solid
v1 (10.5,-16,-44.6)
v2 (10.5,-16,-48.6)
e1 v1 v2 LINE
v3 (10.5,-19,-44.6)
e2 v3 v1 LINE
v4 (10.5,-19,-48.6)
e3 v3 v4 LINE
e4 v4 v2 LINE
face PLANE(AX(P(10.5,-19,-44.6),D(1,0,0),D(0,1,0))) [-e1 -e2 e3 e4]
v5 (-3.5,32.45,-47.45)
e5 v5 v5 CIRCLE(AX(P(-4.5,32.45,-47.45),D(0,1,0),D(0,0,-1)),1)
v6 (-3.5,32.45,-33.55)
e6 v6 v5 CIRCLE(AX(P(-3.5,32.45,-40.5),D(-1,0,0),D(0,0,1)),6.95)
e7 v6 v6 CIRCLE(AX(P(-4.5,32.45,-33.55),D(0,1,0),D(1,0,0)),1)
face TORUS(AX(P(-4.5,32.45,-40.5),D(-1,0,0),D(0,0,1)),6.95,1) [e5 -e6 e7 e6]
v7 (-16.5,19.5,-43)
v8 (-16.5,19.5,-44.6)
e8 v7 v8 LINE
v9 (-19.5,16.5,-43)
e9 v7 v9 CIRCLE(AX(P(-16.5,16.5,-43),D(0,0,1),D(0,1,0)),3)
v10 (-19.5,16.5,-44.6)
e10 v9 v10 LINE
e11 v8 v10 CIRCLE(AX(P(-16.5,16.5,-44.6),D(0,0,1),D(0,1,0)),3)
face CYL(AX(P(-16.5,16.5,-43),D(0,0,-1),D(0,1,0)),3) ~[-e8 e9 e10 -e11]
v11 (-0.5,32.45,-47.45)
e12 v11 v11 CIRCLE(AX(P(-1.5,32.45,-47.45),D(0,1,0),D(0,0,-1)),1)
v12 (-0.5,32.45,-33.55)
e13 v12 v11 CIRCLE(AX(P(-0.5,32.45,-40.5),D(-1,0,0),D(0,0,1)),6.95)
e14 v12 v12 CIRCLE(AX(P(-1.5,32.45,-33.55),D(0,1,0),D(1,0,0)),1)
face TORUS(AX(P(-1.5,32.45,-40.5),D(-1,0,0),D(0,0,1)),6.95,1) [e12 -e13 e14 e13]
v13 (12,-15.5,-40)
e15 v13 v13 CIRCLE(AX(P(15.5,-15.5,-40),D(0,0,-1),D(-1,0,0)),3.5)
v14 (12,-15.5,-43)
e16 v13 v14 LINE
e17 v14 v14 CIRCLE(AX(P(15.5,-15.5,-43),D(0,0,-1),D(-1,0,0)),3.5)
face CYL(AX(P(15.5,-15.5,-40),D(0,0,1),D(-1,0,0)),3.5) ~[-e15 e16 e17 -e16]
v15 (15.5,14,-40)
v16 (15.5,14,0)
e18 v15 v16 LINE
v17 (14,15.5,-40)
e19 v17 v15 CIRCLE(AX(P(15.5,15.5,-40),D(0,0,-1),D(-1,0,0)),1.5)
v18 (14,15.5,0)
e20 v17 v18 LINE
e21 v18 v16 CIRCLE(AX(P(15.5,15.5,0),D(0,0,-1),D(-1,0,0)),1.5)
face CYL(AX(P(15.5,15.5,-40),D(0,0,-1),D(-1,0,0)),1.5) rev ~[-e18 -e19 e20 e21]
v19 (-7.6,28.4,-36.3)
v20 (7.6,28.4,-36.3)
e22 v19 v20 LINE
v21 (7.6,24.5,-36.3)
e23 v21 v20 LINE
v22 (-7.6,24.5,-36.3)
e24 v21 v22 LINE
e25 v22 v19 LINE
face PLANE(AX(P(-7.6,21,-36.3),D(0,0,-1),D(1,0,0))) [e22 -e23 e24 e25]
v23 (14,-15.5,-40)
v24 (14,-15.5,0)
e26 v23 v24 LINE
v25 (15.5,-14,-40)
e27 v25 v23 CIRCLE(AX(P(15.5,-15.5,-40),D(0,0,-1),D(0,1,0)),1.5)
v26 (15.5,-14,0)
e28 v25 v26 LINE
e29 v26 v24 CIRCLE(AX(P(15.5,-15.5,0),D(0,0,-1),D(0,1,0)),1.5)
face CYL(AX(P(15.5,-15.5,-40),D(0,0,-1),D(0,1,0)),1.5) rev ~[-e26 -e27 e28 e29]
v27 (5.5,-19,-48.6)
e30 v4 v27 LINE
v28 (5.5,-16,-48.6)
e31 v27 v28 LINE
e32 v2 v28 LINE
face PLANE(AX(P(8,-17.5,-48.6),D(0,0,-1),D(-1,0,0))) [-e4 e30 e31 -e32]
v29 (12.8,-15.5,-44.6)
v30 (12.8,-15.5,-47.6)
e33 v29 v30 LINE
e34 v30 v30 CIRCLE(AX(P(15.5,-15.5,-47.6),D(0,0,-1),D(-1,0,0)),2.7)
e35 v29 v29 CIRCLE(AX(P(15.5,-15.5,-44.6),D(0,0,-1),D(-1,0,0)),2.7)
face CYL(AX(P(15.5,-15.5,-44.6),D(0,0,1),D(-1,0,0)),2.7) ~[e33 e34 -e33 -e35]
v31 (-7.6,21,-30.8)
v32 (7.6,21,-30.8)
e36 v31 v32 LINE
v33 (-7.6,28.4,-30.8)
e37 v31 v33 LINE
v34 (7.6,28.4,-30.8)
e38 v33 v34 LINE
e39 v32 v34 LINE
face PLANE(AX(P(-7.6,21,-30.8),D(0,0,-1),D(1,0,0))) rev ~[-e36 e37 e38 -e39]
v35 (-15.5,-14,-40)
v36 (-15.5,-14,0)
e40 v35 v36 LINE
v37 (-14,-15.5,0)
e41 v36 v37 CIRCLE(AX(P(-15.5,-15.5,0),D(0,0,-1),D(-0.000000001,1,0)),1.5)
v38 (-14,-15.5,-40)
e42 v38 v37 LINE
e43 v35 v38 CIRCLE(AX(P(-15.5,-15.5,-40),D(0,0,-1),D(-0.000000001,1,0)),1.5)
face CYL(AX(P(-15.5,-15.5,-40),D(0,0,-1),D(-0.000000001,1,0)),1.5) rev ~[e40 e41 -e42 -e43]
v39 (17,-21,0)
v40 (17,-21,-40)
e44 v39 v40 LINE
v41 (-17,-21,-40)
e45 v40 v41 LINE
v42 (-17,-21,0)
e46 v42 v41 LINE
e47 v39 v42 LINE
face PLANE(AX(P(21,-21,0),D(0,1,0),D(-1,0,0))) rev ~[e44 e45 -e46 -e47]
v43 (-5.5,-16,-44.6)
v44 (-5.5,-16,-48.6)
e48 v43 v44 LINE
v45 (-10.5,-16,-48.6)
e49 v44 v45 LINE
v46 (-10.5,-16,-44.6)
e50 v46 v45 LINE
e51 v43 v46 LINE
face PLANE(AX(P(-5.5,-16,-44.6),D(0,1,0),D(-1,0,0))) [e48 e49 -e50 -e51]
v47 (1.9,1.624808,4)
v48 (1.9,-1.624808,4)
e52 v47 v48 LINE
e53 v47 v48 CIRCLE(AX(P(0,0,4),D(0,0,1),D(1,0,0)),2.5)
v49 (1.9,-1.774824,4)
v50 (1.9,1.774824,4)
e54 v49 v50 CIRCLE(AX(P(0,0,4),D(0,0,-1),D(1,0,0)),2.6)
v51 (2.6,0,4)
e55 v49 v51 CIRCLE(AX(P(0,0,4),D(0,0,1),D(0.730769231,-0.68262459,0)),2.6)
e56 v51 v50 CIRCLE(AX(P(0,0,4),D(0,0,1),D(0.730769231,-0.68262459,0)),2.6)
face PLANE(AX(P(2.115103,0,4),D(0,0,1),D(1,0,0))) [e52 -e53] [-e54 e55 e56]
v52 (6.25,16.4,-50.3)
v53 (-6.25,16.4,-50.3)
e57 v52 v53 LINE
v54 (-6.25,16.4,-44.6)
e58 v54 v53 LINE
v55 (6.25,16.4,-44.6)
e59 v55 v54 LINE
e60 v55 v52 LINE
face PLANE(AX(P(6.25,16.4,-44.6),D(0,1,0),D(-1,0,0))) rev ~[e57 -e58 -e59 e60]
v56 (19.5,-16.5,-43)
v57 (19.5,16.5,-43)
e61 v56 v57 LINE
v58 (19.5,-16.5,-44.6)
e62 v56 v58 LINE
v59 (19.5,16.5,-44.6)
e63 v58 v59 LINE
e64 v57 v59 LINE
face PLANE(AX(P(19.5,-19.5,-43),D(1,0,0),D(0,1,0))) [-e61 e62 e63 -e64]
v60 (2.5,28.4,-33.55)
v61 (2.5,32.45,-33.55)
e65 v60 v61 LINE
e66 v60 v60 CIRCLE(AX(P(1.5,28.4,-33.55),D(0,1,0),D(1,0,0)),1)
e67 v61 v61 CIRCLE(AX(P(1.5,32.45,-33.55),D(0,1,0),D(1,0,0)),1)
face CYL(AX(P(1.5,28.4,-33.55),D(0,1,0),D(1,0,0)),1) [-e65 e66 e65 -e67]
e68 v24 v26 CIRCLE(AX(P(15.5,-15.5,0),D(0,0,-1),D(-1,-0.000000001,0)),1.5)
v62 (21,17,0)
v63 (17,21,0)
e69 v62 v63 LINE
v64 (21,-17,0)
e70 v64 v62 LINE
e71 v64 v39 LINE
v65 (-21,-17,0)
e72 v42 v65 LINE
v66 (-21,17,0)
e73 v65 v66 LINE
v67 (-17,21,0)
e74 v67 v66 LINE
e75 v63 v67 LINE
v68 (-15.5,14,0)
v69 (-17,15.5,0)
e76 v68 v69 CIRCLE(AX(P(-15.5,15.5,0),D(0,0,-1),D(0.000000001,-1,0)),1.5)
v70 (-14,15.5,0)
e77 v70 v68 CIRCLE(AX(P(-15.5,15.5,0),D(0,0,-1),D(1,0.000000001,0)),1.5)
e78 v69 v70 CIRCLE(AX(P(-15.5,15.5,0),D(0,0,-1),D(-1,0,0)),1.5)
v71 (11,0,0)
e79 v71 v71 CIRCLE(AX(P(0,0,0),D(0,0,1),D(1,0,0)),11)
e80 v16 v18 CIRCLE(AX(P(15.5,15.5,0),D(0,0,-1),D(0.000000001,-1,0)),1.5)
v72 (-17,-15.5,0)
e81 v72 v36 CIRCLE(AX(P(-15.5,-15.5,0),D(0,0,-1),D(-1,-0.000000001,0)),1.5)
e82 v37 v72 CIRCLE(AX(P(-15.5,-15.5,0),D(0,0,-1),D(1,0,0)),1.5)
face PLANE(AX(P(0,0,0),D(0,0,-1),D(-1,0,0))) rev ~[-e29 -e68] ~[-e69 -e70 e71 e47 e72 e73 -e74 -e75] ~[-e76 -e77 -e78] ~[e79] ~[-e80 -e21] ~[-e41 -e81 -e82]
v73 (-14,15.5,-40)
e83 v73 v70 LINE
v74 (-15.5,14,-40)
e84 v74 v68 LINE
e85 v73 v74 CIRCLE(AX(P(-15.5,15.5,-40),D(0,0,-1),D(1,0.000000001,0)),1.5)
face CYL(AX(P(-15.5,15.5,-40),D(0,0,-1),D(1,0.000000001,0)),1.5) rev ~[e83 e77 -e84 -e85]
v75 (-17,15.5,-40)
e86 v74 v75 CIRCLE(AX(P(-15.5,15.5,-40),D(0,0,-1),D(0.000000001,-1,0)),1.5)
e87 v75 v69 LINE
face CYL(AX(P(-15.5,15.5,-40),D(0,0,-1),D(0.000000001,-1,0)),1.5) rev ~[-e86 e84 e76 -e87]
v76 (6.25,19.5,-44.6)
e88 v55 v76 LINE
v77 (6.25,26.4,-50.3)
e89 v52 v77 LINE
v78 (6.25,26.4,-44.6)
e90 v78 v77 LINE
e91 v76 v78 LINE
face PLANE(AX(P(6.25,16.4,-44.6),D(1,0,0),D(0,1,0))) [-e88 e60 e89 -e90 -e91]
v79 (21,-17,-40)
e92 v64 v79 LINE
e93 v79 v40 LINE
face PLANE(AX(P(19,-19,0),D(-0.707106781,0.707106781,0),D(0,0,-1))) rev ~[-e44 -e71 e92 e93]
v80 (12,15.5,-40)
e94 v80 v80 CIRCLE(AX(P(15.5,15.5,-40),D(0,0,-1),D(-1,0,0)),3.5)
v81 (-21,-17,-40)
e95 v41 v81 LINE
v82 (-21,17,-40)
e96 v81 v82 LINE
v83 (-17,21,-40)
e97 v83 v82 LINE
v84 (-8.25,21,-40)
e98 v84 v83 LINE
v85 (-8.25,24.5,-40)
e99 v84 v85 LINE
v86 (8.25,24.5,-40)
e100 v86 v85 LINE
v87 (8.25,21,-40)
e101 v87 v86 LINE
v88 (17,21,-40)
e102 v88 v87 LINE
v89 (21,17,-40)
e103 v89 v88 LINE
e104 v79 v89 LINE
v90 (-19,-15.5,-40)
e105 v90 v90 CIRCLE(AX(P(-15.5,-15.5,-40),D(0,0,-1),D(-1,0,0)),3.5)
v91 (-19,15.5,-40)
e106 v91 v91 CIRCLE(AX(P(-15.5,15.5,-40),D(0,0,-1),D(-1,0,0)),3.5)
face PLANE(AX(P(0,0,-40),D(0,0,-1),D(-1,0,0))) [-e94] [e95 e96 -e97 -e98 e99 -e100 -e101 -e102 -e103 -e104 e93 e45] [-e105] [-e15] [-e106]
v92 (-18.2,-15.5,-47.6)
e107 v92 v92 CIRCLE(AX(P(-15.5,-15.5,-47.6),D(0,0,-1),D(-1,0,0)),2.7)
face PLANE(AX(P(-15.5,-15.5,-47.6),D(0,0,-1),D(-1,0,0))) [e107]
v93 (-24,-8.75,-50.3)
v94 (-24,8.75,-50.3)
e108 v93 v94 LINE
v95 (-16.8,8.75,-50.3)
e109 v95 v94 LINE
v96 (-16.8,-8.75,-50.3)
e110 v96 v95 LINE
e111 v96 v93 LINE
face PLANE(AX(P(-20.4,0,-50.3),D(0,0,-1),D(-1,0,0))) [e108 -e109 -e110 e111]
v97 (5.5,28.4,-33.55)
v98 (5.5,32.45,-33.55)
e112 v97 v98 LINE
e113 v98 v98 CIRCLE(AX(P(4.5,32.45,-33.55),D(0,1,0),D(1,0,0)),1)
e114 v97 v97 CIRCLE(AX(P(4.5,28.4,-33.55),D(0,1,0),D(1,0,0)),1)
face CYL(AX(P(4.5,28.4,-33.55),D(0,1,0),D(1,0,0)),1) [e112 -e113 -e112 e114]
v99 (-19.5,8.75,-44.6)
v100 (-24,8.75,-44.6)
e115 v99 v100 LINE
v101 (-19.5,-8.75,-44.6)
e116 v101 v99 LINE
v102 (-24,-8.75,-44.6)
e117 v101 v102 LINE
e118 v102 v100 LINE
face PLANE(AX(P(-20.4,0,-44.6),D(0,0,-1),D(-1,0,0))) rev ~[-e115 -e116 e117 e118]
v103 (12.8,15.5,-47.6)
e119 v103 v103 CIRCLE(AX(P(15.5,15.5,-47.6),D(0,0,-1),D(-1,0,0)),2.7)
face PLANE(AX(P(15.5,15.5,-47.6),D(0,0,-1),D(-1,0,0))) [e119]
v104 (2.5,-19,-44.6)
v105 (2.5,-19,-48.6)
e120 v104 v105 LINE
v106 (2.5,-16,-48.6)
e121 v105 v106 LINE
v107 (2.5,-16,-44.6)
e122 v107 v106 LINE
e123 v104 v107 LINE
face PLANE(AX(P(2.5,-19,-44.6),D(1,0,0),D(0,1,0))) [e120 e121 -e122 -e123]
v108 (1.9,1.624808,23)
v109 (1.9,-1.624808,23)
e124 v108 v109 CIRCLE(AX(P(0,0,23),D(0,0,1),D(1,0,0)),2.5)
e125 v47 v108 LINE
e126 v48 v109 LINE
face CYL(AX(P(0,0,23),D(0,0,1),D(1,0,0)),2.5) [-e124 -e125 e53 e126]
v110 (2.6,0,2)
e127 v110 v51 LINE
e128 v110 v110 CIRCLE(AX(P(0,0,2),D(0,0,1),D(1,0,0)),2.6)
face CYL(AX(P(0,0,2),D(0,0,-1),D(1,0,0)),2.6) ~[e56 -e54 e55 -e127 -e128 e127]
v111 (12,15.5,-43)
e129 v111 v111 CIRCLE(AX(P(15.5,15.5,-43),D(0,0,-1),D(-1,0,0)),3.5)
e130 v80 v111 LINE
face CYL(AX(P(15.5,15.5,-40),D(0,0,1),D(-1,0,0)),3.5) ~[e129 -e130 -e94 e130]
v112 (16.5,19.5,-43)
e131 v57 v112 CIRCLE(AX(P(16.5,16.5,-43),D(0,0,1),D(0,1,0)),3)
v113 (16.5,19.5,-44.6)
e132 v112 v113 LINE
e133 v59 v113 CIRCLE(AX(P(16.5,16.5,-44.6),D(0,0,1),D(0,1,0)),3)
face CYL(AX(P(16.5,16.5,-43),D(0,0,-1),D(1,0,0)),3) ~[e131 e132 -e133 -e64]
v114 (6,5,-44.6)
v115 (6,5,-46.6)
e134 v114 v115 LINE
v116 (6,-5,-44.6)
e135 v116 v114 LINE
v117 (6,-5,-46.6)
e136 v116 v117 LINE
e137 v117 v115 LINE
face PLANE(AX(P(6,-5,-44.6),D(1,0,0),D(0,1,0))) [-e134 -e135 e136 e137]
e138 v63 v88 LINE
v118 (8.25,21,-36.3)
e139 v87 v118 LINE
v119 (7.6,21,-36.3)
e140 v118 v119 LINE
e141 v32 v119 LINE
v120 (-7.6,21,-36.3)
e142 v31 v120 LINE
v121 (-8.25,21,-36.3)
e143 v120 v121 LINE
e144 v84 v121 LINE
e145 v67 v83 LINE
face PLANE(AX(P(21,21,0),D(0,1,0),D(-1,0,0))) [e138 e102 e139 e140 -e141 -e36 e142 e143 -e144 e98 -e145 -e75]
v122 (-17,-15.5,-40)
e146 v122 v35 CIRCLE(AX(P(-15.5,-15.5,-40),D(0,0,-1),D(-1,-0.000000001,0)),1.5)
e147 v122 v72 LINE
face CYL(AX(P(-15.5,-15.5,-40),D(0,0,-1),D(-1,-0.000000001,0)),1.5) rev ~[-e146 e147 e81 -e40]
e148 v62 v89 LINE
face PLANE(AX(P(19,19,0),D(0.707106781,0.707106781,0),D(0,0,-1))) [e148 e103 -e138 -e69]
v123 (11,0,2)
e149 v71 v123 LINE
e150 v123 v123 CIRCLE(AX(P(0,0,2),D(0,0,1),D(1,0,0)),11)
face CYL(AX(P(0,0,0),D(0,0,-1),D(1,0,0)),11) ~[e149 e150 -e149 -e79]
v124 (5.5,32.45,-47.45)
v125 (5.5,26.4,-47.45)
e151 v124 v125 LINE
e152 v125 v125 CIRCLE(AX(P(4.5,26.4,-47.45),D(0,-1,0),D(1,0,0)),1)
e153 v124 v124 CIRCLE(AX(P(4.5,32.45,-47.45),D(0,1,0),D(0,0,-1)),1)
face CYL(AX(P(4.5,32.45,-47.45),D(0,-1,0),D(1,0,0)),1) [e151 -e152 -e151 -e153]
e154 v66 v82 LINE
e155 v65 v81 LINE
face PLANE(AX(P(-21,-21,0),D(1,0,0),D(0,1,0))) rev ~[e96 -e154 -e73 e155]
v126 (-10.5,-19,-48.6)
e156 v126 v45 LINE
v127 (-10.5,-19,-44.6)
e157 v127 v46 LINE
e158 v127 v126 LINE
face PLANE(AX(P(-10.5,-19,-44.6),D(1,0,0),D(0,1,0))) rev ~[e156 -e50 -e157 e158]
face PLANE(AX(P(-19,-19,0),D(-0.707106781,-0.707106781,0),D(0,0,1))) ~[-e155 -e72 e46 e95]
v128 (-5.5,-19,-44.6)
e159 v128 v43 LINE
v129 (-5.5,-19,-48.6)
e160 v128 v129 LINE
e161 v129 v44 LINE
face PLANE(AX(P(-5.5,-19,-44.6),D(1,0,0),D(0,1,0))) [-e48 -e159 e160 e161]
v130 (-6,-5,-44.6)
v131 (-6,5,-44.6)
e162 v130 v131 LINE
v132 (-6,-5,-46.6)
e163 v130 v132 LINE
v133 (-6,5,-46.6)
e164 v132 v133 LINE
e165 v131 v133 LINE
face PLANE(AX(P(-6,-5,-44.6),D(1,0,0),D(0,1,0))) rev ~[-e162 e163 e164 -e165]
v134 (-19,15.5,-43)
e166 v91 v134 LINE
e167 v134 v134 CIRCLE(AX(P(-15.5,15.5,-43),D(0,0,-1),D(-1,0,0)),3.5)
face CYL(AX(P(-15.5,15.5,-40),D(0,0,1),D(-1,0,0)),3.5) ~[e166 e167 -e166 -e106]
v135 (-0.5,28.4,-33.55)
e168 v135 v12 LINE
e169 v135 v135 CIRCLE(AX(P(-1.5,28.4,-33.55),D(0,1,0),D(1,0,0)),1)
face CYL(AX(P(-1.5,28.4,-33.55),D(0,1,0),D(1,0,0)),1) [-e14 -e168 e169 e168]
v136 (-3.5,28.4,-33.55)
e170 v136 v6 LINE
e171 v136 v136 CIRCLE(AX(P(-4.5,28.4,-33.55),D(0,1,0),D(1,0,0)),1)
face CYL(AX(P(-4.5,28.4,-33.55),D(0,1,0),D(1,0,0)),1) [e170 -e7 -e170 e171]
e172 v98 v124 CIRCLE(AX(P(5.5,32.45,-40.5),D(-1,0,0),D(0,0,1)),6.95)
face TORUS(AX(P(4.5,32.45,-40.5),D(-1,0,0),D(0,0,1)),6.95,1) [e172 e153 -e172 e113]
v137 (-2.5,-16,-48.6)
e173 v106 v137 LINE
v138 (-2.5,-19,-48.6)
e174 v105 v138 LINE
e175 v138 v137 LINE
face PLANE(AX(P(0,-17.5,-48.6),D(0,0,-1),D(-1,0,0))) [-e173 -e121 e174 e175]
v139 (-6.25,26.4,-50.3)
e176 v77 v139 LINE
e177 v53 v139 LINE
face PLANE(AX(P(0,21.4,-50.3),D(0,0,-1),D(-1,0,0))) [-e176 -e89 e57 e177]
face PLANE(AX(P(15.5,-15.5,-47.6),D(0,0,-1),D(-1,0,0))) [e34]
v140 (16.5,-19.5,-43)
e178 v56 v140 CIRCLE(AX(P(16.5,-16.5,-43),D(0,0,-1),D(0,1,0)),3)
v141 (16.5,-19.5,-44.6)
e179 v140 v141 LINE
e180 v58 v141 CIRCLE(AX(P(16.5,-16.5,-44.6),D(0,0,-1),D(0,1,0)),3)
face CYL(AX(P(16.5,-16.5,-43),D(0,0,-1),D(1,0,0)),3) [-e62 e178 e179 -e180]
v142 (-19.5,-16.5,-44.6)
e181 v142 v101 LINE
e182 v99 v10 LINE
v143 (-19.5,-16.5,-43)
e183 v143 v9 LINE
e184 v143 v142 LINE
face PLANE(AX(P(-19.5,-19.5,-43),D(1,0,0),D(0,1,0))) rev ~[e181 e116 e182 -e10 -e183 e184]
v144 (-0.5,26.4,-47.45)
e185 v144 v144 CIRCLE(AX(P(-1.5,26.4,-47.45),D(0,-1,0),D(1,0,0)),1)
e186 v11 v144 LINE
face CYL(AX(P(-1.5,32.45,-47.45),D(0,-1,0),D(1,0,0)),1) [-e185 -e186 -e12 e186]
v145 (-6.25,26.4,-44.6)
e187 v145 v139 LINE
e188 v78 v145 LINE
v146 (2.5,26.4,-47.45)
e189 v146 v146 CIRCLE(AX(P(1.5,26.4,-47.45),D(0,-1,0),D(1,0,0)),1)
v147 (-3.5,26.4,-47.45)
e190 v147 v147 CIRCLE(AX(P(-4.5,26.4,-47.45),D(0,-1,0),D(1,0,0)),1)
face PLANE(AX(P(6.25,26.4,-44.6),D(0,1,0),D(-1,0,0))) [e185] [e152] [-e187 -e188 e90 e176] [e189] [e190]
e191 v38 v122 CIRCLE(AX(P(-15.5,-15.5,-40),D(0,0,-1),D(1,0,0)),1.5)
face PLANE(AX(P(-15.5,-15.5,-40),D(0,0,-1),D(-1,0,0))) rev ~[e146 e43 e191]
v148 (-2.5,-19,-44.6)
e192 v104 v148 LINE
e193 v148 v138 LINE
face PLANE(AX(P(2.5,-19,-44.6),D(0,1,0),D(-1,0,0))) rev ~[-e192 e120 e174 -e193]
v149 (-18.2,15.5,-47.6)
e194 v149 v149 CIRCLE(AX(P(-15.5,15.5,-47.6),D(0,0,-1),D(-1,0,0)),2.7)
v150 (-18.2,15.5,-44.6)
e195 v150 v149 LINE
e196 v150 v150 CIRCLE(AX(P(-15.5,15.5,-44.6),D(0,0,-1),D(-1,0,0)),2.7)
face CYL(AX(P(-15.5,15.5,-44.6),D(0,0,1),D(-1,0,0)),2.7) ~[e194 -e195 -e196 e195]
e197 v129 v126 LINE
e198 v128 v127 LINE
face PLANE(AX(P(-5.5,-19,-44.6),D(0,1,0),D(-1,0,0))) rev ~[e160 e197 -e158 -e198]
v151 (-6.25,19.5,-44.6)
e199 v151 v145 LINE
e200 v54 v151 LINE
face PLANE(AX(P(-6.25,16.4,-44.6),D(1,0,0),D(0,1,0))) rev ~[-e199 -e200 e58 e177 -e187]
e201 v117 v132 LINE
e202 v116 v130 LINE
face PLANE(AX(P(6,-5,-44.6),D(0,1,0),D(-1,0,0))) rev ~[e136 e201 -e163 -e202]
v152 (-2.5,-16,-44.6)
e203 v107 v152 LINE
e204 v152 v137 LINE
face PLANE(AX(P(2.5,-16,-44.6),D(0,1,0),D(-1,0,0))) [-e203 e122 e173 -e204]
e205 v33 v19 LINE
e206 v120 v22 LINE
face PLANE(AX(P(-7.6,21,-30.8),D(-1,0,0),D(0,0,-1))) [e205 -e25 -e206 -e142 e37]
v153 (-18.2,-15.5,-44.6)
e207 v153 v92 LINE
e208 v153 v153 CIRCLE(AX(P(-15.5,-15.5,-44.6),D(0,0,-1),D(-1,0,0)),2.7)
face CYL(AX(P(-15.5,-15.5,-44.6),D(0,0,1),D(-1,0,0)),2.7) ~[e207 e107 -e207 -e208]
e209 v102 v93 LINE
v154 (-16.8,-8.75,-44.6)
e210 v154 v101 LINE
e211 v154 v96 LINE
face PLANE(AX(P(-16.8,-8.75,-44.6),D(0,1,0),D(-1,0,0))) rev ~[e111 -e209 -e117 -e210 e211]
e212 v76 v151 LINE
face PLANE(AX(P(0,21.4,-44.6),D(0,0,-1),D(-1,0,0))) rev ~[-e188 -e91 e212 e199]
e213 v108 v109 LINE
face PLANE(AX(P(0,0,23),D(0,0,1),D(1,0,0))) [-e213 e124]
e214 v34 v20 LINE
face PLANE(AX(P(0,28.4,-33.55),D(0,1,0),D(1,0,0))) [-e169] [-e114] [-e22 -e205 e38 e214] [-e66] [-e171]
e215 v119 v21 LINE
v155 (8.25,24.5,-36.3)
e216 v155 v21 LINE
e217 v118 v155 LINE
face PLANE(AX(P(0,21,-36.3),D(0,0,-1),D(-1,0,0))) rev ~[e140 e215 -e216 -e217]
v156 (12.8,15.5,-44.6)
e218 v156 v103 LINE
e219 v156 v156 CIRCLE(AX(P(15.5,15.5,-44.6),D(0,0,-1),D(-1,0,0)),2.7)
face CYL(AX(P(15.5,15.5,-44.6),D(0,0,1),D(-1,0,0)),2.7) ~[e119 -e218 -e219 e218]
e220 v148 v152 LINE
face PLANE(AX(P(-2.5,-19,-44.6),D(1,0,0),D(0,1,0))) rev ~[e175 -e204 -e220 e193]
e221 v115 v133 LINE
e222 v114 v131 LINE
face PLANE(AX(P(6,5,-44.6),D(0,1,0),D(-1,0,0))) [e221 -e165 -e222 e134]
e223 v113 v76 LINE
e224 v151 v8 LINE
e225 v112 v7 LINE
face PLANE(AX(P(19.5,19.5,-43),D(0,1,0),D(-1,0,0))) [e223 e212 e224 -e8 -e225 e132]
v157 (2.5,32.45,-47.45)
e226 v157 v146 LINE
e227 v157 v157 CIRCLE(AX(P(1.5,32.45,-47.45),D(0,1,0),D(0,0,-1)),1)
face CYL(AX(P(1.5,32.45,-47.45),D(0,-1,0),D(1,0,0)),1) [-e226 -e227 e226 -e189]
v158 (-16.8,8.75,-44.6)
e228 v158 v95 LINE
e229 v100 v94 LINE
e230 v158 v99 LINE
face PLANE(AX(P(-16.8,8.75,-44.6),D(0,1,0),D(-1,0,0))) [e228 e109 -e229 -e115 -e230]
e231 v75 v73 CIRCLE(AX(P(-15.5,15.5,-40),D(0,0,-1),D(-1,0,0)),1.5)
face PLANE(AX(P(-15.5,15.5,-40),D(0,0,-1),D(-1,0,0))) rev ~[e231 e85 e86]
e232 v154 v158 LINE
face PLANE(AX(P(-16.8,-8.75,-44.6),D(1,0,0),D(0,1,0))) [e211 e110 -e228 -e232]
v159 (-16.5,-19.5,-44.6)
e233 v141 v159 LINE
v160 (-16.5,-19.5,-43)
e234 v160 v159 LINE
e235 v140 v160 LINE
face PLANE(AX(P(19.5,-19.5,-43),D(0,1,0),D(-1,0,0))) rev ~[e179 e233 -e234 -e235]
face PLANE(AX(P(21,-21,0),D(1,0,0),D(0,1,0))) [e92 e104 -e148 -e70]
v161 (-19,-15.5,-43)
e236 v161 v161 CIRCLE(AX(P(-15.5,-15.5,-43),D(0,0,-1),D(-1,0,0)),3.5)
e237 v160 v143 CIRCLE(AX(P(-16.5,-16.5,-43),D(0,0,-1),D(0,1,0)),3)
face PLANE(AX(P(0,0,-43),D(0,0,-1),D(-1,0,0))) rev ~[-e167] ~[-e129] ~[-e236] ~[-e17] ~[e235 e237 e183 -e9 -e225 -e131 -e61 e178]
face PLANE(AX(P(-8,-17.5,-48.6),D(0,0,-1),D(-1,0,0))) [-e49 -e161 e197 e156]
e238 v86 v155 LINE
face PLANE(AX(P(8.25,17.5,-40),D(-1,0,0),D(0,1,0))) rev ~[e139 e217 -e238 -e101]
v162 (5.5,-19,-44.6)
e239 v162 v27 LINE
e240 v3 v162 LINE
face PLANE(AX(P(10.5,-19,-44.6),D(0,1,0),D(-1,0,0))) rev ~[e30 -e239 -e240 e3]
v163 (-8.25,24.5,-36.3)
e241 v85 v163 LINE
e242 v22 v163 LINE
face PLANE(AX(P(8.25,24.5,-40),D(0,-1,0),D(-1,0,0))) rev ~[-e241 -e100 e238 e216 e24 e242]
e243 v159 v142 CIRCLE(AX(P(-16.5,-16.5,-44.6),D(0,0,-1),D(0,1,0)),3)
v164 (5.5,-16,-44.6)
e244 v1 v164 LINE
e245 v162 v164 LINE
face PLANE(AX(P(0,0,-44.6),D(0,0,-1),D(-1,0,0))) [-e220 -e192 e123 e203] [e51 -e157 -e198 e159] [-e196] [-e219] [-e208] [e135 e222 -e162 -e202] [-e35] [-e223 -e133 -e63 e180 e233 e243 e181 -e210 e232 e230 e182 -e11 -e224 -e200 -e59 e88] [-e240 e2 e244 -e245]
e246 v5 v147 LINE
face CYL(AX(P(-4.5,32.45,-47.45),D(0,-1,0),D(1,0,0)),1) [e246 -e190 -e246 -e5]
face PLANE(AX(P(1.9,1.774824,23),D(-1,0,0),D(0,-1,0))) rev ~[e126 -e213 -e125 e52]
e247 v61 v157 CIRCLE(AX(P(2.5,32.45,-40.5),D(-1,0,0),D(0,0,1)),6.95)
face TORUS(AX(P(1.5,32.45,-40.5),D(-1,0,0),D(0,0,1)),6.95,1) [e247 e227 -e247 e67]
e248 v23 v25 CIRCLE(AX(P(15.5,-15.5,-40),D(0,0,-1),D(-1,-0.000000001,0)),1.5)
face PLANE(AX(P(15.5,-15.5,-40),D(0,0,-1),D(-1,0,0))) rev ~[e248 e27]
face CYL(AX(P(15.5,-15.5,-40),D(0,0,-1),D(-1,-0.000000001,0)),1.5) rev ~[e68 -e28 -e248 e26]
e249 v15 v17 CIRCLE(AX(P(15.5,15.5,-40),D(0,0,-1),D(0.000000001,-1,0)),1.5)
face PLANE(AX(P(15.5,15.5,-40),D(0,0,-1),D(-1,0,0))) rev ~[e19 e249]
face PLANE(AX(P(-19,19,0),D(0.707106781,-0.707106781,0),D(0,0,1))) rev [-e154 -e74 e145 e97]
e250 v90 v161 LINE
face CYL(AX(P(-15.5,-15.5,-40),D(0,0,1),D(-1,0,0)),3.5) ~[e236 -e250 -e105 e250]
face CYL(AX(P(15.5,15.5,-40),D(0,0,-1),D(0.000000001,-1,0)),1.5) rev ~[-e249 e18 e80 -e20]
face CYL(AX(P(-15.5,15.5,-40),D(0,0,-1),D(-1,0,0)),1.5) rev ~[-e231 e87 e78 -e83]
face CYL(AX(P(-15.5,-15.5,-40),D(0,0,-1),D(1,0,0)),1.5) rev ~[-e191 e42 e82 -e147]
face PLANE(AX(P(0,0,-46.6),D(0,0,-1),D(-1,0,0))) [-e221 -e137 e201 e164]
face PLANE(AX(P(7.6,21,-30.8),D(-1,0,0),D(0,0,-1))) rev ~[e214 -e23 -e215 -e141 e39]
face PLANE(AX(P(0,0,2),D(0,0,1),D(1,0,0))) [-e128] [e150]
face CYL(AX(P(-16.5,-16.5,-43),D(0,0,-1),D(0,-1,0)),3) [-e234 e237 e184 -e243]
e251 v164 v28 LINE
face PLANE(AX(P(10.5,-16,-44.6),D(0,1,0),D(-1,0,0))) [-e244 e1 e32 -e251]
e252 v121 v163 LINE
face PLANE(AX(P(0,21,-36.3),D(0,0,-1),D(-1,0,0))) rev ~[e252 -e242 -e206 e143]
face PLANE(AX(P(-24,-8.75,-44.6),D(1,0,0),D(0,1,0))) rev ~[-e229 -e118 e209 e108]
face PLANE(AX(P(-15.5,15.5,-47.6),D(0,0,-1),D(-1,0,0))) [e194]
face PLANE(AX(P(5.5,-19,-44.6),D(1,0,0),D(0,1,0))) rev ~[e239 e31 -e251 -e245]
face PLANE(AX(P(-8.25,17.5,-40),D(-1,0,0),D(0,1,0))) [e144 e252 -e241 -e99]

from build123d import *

# Parameters (mm, degrees)
SKETCH1_R            = 11
BOSS_EXTRUDE1_DEPTH  = 2
SKETCH2_R            = 2.6
BOSS_EXTRUDE2_DEPTH  = 21
CUT_EXTRUDE1_DEPTH   = 19
SKETCH4_W            = 42
SKETCH4_H            = 42
BOSS_EXTRUDE3_DEPTH  = 40
CHAMFER1_SIZE        = 4
CUT_EXTRUDE2_DEPTH   = 64
SKETCH6_R            = 3.5
BOSS_EXTRUDE4_DEPTH  = 3
SKETCH7_W            = 39
SKETCH7_H            = 39
BOSS_EXTRUDE5_DEPTH  = 1.6
FILLET1_R            = 3
SKETCH8_W            = 16.5
SKETCH8_H            = 7
BOSS_EXTRUDE6_DEPTH  = 3.7
SKETCH9_W            = 15.2
SKETCH9_H            = 5.5
BOSS_EXTRUDE7_DEPTH  = 7.4
SKETCH10_W           = 12.5
SKETCH10_H           = 10
BOSS_EXTRUDE8_DEPTH  = 5.7
SKETCH11_R           = 1
SKETCH13_R           = 2.7
BOSS_EXTRUDE9_DEPTH  = 3
SKETCH14_W           = 12
SKETCH14_H           = 10
BOSS_EXTRUDE10_DEPTH = 2
SKETCH15_W           = 5
SKETCH15_H           = 3
BOSS_EXTRUDE11_DEPTH = 4
SKETCH16_W           = 7.2
SKETCH16_H           = 17.5
BOSS_EXTRUDE12_DEPTH = 5.7
SKETCH17_R           = 3.199727203
SKETCH17_R_2         = 2.5
CUT_EXTRUDE3_DEPTH   = 19


with BuildPart() as part:
    # Sketch1 → Boss-Extrude1 (new body)
    with BuildSketch(Plane.XY):
        Circle(SKETCH1_R)
    extrude(amount=BOSS_EXTRUDE1_DEPTH)

    # Sketch2 → Boss-Extrude2 (add)
    with BuildSketch(Plane.XY.offset(2)):
        Circle(SKETCH2_R)
    extrude(amount=BOSS_EXTRUDE2_DEPTH)

    # Sketch3 → Cut-Extrude1 (cut)
    with BuildSketch(Plane.XY.offset(23)):
        with BuildLine():
            Line((1.9, 1.774823935), (1.9, -1.774823935))
            ThreePointArc((1.9, -1.774823935), (2.6, 0), (1.9, 1.774823935))
        make_face()
    extrude(amount=-CUT_EXTRUDE1_DEPTH, mode=Mode.SUBTRACT)

    # Sketch4 → Boss-Extrude3 (add)
    with BuildSketch(Plane(origin=(0, 0, 0), x_dir=(-1, 0, 0), z_dir=(0, 0, -1))):
        Rectangle(SKETCH4_W, SKETCH4_H)
    extrude(amount=BOSS_EXTRUDE3_DEPTH)

    # Chamfer1
    chamfer1_edges = [part.edges().sort_by_distance(p)[0] for p in [
        (-21, -21, -20),
        (-21, 21, -20),
        (21, 21, -20),
        (21, -21, -20),
    ]]
    chamfer(chamfer1_edges, length=CHAMFER1_SIZE)

    # Sketch5 → Cut-Extrude2 (cut, through all)
    with BuildSketch(Plane(origin=(0, 0, -40), x_dir=(-1, 0, 0), z_dir=(0, 0, -1))):
        with BuildLine():
            ThreePointArc((-14, 15.5), (-16.560660172, 16.560660172), (-15.5, 14))
            Line((-15.5, 14), (-15.5, 15.5))
            Line((-15.5, 15.5), (-14, 15.5))
        make_face()
        with BuildLine():
            Line((-15.5, 15.5), (-15.5, 14))
            ThreePointArc((-15.5, 14), (-14.439339828, 14.439339828), (-14, 15.5))
            Line((-14, 15.5), (-15.5, 15.5))
        make_face()
        with BuildLine():
            ThreePointArc((14, 15.5), (14.439339828, 14.439339828), (15.5, 14))
            Line((15.5, 14), (15.5, 15.5))
            Line((15.5, 15.5), (14, 15.5))
        make_face()
        with BuildLine():
            Line((15.5, 15.5), (15.5, 14))
            ThreePointArc((15.5, 14), (16.560660172, 14.439339828), (17, 15.5))
            ThreePointArc((17, 15.5), (15.5, 17), (14, 15.5))
            Line((14, 15.5), (15.5, 15.5))
        make_face()
        with BuildLine():
            ThreePointArc((15.5, -14), (14.439339828, -14.439339828), (14, -15.5))
            Line((14, -15.5), (15.5, -15.5))
            Line((15.5, -15.5), (15.5, -14))
        make_face()
        with BuildLine():
            Line((15.5, -15.5), (14, -15.5))
            ThreePointArc((14, -15.5), (15.5, -17), (17, -15.5))
            ThreePointArc((17, -15.5), (16.560660172, -14.439339828), (15.5, -14))
            Line((15.5, -14), (15.5, -15.5))
        make_face()
        with BuildLine():
            Line((-15.5, -14), (-15.5, -15.5))
            Line((-15.5, -15.5), (-14, -15.5))
            ThreePointArc((-14, -15.5), (-14.439339828, -14.439339828), (-15.5, -14))
        make_face()
        with BuildLine():
            Line((-14, -15.5), (-15.5, -15.5))
            Line((-15.5, -15.5), (-15.5, -14))
            ThreePointArc((-15.5, -14), (-16.560660172, -16.560660172), (-14, -15.5))
        make_face()
    extrude(amount=-CUT_EXTRUDE2_DEPTH, mode=Mode.SUBTRACT)

    # Sketch6 → Boss-Extrude4 (add)
    with BuildSketch(Plane(origin=(0, 0, -40), x_dir=(-1, 0, 0), z_dir=(0, 0, -1))):
        with Locations((-15.5, 15.5)):
            Circle(SKETCH6_R)
        with Locations((15.5, 15.5)):
            Circle(SKETCH6_R)
        with Locations((15.5, -15.5)):
            Circle(SKETCH6_R)
        with Locations((-15.5, -15.5)):
            Circle(SKETCH6_R)
    extrude(amount=BOSS_EXTRUDE4_DEPTH)

    # Sketch7 → Boss-Extrude5 (add)
    with BuildSketch(Plane(origin=(0, 0, -43), x_dir=(-1, 0, 0), z_dir=(0, 0, -1))):
        Rectangle(SKETCH7_W, SKETCH7_H)
    extrude(amount=BOSS_EXTRUDE5_DEPTH)

    # Fillet1
    fillet1_edges = [part.edges().sort_by_distance(p)[0] for p in [
        (19.5, 19.5, -43.8),
        (19.5, -19.5, -43.8),
        (-19.5, -19.5, -43.8),
        (-19.5, 19.5, -43.8),
    ]]
    fillet(fillet1_edges, radius=FILLET1_R)

    # Sketch8 → Boss-Extrude6 (add)
    with BuildSketch(Plane(origin=(0, 0, -40), x_dir=(-1, 0, 0), z_dir=(0, 0, -1))):
        with Locations((0, 21)):
            Rectangle(SKETCH8_W, SKETCH8_H)
    extrude(amount=-BOSS_EXTRUDE6_DEPTH)

    # Sketch9 → Boss-Extrude7 (add)
    with BuildSketch(Plane(origin=(0, 21, 0), x_dir=(1, 0, 0), z_dir=(0, 1, 0))):
        with Locations((0, 33.55)):
            Rectangle(SKETCH9_W, SKETCH9_H)
    extrude(amount=BOSS_EXTRUDE7_DEPTH)

    # Sketch10 → Boss-Extrude8 (add)
    with BuildSketch(Plane(origin=(0, 0, -44.6), x_dir=(-1, 0, 0), z_dir=(0, 0, -1))):
        with Locations((0, 21.4)):
            Rectangle(SKETCH10_W, SKETCH10_H)
    extrude(amount=BOSS_EXTRUDE8_DEPTH)

    # Sweep1: sweep along a path in Sketch12
    with BuildLine(Plane(origin=(0, 0, 0), x_dir=(0, 0, -1), z_dir=(1, 0, 0))) as sweep1_path:
        Line((33.55, 28.4), (33.55, 32.45))
        ThreePointArc((33.55, 32.45), (40.5, 39.4), (47.45, 32.45))
        Line((47.45, 32.45), (47.45, 26.4))
    # Sketch11 → Sweep1 (sweep)
    with BuildSketch(Plane(origin=(0, 26.4, 0), x_dir=(1, 0, 0), z_dir=(0, 1, 0))):
        with Locations((-4.5, 47.45)):
            Circle(SKETCH11_R)
        with Locations((-1.5, 47.45)):
            Circle(SKETCH11_R)
        with Locations((1.5, 47.45)):
            Circle(SKETCH11_R)
        with Locations((4.5, 47.45)):
            Circle(SKETCH11_R)
    sweep(path=sweep1_path.line)

    # Sketch13 → Boss-Extrude9 (add)
    with BuildSketch(Plane(origin=(0, 0, -44.6), x_dir=(-1, 0, 0), z_dir=(0, 0, -1))):
        with Locations((-15.5, 15.5)):
            Circle(SKETCH13_R)
        with Locations((15.5, 15.5)):
            Circle(SKETCH13_R)
        with Locations((-15.5, -15.5)):
            Circle(SKETCH13_R)
        with Locations((15.5, -15.5)):
            Circle(SKETCH13_R)
    extrude(amount=BOSS_EXTRUDE9_DEPTH)

    # Sketch14 → Boss-Extrude10 (add)
    with BuildSketch(Plane(origin=(0, 0, -44.6), x_dir=(-1, 0, 0), z_dir=(0, 0, -1))):
        Rectangle(SKETCH14_W, SKETCH14_H)
    extrude(amount=BOSS_EXTRUDE10_DEPTH)

    # Sketch15 → Boss-Extrude11 (add)
    with BuildSketch(Plane(origin=(0, 0, -44.6), x_dir=(-1, 0, 0), z_dir=(0, 0, -1))):
        with Locations((-8, -17.5)):
            Rectangle(SKETCH15_W, SKETCH15_H)
        with Locations((0, -17.5)):
            Rectangle(SKETCH15_W, SKETCH15_H)
        with Locations((8, -17.5)):
            Rectangle(SKETCH15_W, SKETCH15_H)
    extrude(amount=BOSS_EXTRUDE11_DEPTH)

    # Sketch16 → Boss-Extrude12 (add)
    with BuildSketch(Plane(origin=(0, 0, -44.6), x_dir=(-1, 0, 0), z_dir=(0, 0, -1))):
        with Locations((20.4, 0)):
            Rectangle(SKETCH16_W, SKETCH16_H)
    extrude(amount=BOSS_EXTRUDE12_DEPTH)

    # Sketch17 → Cut-Extrude3 (cut)
    with BuildSketch(Plane.XY.offset(23)):
        Circle(SKETCH17_R)
        Circle(SKETCH17_R_2, mode=Mode.SUBTRACT)
    extrude(amount=-CUT_EXTRUDE3_DEPTH, mode=Mode.SUBTRACT)


solid = part.part
